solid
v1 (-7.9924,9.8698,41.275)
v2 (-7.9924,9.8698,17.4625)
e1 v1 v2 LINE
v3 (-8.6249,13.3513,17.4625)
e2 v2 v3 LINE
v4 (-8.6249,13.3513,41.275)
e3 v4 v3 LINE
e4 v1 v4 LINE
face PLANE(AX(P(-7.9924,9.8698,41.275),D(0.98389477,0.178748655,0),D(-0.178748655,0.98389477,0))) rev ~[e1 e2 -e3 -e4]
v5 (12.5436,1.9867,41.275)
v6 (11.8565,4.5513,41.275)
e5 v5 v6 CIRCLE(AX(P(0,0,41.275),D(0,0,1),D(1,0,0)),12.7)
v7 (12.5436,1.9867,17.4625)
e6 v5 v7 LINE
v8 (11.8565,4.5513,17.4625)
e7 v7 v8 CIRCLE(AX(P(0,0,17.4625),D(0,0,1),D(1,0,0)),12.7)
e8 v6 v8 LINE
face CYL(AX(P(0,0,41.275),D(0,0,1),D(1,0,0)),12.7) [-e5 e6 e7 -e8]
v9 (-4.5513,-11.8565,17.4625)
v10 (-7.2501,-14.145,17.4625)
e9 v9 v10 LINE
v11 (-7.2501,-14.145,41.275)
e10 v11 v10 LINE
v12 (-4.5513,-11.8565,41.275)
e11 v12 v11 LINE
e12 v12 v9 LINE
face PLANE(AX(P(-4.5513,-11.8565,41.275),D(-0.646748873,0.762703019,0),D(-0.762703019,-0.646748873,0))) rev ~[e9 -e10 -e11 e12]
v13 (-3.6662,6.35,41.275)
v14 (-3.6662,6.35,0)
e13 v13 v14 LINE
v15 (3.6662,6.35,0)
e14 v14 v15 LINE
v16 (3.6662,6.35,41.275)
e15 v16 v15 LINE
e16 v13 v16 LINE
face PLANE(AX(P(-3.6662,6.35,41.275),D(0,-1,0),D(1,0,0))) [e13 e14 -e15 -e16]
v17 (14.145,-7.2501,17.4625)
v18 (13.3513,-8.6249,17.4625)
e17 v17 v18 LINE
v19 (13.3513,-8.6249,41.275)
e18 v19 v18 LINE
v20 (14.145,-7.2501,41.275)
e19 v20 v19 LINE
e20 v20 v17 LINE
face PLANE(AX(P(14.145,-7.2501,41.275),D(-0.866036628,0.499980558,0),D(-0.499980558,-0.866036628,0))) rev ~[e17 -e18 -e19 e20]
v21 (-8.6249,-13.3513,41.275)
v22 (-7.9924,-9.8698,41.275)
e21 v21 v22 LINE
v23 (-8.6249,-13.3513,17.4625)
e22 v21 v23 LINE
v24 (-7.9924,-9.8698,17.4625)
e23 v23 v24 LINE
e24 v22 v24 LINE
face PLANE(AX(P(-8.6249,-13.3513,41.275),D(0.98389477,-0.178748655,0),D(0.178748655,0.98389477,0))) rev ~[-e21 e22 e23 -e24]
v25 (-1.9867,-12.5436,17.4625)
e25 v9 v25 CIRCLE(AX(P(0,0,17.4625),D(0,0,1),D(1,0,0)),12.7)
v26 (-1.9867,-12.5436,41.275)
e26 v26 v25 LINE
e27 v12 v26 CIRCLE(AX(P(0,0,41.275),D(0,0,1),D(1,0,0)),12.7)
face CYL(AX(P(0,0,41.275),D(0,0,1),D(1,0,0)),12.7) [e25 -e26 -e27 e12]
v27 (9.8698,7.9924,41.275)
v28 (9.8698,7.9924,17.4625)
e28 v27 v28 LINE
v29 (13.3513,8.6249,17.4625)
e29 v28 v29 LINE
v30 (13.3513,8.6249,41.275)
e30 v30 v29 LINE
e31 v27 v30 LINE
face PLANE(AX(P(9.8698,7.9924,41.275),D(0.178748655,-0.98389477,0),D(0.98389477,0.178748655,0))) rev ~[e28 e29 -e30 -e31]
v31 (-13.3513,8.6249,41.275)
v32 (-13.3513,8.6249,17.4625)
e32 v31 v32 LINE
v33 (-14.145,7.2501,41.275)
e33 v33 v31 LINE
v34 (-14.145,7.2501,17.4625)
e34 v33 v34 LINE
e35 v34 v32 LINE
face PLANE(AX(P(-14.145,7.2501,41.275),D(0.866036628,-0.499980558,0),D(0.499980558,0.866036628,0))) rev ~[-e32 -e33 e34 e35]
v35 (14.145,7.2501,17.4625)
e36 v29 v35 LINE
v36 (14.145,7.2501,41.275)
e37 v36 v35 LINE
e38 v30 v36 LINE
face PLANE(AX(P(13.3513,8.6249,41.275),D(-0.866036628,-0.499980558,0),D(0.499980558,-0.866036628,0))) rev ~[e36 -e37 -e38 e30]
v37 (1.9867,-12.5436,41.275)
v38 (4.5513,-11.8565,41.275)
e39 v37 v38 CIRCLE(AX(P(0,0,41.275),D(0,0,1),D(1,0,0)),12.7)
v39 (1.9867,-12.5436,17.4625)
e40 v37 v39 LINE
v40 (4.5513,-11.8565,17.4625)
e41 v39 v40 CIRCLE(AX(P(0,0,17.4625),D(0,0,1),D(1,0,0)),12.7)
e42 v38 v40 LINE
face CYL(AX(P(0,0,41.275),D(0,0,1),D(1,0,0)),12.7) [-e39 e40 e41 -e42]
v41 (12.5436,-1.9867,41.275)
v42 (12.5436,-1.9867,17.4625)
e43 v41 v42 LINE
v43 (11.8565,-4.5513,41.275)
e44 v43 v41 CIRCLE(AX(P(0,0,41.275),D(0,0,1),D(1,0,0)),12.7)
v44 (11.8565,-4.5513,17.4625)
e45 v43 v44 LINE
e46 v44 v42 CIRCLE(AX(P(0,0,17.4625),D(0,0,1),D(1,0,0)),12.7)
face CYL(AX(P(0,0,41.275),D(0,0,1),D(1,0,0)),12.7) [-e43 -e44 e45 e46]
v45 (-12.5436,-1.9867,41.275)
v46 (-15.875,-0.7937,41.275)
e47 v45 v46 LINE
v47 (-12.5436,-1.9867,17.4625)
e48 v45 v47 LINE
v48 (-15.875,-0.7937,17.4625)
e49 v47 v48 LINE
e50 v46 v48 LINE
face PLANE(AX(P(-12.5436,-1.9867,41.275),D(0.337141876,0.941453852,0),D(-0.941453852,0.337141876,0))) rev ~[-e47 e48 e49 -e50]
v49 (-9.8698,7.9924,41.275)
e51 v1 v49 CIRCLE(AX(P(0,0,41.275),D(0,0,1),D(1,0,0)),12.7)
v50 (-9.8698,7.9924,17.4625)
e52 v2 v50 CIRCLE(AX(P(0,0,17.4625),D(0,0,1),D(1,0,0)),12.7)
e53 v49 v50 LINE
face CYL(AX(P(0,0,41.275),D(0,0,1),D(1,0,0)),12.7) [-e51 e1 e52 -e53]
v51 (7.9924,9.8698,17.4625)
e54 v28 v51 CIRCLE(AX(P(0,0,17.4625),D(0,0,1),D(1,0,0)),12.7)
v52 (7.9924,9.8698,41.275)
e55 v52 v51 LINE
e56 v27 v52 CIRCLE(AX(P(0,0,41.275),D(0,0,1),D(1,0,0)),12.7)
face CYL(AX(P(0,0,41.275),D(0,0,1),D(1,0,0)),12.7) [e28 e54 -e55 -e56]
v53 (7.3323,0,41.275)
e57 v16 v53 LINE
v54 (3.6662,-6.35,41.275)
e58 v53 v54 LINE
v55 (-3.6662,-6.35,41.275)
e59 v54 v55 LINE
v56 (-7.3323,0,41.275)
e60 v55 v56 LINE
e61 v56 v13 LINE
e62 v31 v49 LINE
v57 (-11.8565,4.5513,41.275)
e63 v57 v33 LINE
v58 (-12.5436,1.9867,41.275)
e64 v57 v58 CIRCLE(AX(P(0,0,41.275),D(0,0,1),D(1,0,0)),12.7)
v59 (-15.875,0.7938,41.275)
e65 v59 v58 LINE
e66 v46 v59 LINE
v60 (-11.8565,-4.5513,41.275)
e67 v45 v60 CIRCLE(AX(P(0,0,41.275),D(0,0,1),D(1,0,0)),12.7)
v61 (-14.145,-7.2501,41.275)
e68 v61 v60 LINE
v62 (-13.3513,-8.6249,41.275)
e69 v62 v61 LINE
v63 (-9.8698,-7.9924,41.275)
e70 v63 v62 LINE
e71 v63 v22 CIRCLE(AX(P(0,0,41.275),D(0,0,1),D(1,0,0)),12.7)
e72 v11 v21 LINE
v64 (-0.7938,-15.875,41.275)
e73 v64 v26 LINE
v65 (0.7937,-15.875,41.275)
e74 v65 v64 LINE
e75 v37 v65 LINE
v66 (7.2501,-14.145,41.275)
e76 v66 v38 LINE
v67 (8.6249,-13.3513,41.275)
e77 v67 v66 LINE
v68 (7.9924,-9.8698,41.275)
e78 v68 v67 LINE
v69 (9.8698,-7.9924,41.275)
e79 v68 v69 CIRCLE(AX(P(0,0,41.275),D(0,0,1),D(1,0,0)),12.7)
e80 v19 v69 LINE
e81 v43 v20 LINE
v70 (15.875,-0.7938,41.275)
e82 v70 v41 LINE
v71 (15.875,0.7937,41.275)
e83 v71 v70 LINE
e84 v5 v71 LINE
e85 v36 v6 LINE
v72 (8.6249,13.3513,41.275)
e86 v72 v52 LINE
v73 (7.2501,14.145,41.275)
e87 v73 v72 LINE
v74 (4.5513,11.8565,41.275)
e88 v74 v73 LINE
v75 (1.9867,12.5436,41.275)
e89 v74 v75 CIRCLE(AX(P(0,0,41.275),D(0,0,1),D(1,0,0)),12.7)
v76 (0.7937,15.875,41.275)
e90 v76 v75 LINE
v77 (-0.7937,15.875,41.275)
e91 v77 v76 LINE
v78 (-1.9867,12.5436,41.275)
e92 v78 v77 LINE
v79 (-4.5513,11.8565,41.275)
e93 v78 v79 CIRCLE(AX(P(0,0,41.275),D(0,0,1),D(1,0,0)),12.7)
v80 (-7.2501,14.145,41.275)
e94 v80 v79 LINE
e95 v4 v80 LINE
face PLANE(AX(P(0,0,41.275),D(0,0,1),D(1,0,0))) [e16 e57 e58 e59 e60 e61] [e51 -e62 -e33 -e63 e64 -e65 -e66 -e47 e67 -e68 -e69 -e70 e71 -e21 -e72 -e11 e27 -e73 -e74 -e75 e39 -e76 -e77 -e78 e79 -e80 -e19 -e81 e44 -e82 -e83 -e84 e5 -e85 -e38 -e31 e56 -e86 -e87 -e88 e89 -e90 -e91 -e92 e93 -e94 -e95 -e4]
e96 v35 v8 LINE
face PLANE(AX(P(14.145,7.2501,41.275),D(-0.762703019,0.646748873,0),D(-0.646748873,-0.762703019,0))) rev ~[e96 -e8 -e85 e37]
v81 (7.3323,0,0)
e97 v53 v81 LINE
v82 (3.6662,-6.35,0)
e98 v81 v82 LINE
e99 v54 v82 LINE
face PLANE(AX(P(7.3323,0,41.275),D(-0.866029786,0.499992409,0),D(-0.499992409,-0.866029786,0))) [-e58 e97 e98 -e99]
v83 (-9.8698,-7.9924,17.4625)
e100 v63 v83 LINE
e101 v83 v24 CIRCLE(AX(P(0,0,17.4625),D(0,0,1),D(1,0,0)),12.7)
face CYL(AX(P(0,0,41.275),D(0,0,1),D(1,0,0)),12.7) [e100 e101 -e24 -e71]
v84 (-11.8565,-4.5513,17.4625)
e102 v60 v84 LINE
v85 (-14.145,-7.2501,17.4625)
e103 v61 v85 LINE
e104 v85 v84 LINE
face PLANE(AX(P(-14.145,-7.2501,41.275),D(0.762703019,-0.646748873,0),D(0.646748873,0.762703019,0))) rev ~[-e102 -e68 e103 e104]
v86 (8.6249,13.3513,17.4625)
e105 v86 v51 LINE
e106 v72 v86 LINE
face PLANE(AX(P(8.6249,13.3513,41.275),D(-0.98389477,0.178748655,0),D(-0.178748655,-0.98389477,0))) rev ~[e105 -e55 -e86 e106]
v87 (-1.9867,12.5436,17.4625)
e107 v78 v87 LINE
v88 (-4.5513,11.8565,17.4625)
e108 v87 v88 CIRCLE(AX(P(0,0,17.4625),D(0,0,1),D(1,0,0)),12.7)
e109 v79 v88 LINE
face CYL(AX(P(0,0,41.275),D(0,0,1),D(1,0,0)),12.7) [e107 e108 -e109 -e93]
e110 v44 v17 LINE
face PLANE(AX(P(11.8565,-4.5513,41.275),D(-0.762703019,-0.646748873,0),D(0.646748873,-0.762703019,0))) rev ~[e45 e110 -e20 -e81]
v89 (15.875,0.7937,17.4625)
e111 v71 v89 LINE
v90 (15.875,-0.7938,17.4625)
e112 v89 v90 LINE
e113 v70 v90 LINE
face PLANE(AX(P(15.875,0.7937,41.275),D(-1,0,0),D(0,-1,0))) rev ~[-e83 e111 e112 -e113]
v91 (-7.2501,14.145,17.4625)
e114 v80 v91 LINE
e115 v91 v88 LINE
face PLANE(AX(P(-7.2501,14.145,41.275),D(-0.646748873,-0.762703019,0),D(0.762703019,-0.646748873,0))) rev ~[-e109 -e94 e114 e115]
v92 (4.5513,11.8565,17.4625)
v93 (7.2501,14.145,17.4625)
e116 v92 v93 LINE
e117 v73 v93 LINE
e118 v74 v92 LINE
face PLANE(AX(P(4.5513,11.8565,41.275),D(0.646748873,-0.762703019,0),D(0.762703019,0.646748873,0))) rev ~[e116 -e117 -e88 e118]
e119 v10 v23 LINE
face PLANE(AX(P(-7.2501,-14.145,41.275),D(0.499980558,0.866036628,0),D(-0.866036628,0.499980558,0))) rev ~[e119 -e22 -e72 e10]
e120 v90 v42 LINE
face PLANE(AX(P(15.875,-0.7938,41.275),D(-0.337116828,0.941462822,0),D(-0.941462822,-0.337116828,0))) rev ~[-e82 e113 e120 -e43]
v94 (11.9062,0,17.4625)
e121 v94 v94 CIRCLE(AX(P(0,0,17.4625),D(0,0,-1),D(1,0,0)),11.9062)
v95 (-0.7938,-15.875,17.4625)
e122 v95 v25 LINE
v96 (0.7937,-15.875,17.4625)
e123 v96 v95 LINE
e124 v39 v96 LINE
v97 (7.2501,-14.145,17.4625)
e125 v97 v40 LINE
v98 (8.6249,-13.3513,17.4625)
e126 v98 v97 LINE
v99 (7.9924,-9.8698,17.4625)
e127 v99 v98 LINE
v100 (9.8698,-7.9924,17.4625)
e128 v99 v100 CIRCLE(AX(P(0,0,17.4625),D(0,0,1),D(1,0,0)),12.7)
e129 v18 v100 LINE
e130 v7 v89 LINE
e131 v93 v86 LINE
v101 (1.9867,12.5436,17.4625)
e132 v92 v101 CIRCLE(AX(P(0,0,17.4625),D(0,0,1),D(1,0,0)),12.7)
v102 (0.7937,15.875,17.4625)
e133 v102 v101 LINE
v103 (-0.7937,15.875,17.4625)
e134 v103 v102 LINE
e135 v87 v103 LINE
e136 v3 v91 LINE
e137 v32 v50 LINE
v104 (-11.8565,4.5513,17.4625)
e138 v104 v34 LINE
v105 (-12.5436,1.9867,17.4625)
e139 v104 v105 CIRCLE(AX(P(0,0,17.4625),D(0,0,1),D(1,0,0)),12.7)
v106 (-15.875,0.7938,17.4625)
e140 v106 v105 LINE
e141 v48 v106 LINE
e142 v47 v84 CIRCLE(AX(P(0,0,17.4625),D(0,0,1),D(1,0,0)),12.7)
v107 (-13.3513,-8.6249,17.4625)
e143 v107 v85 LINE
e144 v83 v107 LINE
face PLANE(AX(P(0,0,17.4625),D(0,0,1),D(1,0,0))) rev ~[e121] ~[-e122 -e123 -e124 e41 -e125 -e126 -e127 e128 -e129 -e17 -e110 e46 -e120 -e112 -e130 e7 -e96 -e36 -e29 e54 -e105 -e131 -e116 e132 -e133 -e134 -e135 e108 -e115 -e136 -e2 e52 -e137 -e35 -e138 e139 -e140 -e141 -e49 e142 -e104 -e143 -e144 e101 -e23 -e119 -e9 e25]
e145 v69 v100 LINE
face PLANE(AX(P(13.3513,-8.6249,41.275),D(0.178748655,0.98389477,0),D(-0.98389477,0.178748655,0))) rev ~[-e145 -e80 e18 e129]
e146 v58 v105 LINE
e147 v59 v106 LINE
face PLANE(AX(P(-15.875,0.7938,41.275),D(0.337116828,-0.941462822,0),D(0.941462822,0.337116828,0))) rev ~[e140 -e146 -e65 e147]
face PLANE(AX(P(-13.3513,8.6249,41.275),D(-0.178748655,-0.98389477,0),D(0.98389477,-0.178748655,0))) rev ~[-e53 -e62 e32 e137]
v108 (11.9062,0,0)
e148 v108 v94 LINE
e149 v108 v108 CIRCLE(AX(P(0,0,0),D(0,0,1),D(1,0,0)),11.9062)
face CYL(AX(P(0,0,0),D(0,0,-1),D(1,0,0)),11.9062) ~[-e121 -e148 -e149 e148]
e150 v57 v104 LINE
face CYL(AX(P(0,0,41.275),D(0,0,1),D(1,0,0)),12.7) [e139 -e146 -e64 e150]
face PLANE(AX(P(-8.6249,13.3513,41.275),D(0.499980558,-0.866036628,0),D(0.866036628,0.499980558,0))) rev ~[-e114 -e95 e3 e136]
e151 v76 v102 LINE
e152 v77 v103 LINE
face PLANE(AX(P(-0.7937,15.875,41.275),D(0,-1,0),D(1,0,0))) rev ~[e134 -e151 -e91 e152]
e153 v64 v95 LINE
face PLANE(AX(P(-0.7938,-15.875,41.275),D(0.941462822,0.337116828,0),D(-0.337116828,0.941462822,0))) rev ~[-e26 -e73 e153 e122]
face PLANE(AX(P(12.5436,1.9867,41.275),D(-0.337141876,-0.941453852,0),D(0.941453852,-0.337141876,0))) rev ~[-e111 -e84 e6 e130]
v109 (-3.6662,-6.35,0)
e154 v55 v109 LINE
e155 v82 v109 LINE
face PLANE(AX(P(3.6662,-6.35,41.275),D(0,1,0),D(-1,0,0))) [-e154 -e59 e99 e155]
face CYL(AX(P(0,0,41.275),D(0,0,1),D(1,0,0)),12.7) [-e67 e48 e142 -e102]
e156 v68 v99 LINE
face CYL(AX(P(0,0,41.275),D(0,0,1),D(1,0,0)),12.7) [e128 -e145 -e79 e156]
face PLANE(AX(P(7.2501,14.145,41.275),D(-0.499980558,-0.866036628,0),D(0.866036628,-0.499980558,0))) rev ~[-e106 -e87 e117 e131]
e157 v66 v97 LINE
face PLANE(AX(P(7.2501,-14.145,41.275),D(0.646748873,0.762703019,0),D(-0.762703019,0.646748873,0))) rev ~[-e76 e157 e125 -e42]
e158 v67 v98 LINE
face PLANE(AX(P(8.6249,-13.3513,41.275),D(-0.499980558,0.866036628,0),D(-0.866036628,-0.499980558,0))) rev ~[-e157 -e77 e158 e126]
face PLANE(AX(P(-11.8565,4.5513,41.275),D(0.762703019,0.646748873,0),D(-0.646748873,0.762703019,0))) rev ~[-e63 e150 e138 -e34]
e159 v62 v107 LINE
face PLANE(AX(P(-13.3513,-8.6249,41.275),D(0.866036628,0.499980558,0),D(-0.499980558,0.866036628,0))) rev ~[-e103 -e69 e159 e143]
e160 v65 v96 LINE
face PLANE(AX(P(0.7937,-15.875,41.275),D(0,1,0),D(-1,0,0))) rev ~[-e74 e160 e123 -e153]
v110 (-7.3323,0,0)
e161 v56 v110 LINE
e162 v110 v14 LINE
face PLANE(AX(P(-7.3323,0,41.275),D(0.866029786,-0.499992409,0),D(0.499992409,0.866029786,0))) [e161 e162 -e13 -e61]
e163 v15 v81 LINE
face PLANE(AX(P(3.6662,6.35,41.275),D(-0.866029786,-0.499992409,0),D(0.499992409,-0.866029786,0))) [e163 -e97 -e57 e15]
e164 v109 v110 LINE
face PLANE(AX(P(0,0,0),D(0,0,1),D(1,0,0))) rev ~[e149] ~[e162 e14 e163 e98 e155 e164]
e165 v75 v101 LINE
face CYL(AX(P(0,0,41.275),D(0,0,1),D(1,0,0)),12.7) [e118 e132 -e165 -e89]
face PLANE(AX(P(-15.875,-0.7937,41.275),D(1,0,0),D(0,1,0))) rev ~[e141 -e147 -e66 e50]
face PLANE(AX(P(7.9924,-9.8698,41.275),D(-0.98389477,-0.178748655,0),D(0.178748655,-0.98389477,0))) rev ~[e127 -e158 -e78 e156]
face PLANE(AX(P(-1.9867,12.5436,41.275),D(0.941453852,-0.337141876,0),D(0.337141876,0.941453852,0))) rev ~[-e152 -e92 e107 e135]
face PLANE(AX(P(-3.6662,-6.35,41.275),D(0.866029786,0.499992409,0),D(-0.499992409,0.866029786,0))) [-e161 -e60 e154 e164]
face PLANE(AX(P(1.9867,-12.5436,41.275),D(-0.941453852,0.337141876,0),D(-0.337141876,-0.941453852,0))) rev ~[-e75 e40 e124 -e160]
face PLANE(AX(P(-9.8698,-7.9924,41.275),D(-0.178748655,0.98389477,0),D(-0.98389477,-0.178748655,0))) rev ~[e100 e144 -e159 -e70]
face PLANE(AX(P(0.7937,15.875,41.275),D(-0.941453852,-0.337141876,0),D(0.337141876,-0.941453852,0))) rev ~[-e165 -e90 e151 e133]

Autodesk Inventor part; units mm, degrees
ref_plane "YZ Plane" through (0, 0, 0) normal (1, 0, 0) x (0, 1, 0)
ref_plane "XZ Plane" through (0, 0, 0) normal (0, 1, 0) x (-1, 0, 0)
ref_plane "XY Plane" through (0, 0, 0) normal (0, 0, 1) x (1, 0, 0)
sketch "Sketch1" plane through (0, 0, 0) normal (0, 0, 1) x (1, 0, 0)
  circle A0 centre (0, 0) radius 11.9062
  dimension "d0" = 23.8125
extrude "Extrusion1" add sketch "Sketch1" along normal blind 41.275
sketch "Sketch2" plane through (0, 0, 41.275) normal (0, 0, 1) x (1, 0, 0)
  circle A0 centre (0, 0) radius 12.7
  dimension "d3" = 25.4
extrude "Extrusion2" add sketch "Sketch2" against normal blind 23.8125
sketch "Sketch3" plane through (0, 0, 41.275) normal (0, 0, 1) x (1, 0, 0)
  line L0 (-3.6662, 6.35) -> (3.6662, 6.35)
  line L1 (3.6662, 6.35) -> (7.3323, 0)
  line L2 (7.3323, 0) -> (3.6662, -6.35)
  line L3 (3.6662, -6.35) -> (-3.6662, -6.35)
  line L4 (-3.6662, -6.35) -> (-7.3323, 0)
  line L5 (-7.3323, 0) -> (-3.6662, 6.35)
  point P0 (0, 0)
  dimension "d6" = 12.7
  dimension "d7" = 12.7
  dimension "d8" = 12.7
  dimension "d9" = 120
  dimension "d10" = 120
  dimension "d11" = 6.35
  dimension "d12" = 6.35
  dimension "d13" = 6.35
extrude "Extrusion3" cut sketch "Sketch3" against normal blind 50.8
sketch "Sketch4" plane through (0, 0, 41.275) normal (0, 0, 1) x (1, 0, 0)
  line L0 (-7.3323, 0) -> (-3.6662, 6.35) projected
  line L1 (-3.6662, 6.35) -> (3.6662, 6.35) projected
  line L2 (3.6662, 6.35) -> (7.3323, 0) projected
  line L3 (7.3323, 0) -> (3.6662, -6.35) projected
  line L4 (3.6662, -6.35) -> (-3.6662, -6.35) projected
  line L5 (-3.6662, -6.35) -> (-7.3323, 0) projected
  circle A0 centre (0, 0) radius 12.7 projected
  line L6 (0, 12.7) -> (0, 15.875) construction
  line L7 (0, 12.7) -> (3.175, 12.7) construction
  line L8 (0, 0) -> (1.9867, 12.5436) construction
  circle A1 centre (0, 0) radius 12.7 construction
  line L9 (0, 0) -> (12.7, 0) construction
  line L10 (0, 0) -> (-1.9867, 12.5436) construction
  line L11 (0, 0) -> (12.7, 0) construction
  line L12 (0, 15.875) -> (0.7937, 15.875) construction
  line L13 (0, 15.875) -> (0.7937, 15.875) construction
  line L14 (0, 15.875) -> (-0.7937, 15.875) construction
  line L15 (0, 15.875) -> (0.7937, 15.875) construction
  line L16 (-1.9867, 12.5436) -> (-0.7937, 15.875)
  line L17 (-0.7937, 15.875) -> (0.7937, 15.875)
  line L18 (0.7937, 15.875) -> (1.9867, 12.5436)
  line L19 (-1.9867, 12.5436) -> (1.9867, 12.5436)
  line L20 (-6.35, 10.9985) -> (-7.9375, 13.7482) construction
  line L21 (-6.35, 10.9985) -> (-3.6004, 12.586) construction
  line L22 (0, 0) -> (-4.5513, 11.8565) construction
  line L23 (0, 0) -> (-7.9924, 9.8698) construction
  line L24 (-7.9375, 13.7482) -> (-7.2501, 14.145) construction
  line L25 (-7.9375, 13.7482) -> (-7.2501, 14.145) construction
  line L26 (-7.9375, 13.7482) -> (-8.6249, 13.3513) construction
  line L27 (-7.9375, 13.7482) -> (-7.2501, 14.145) construction
  line L28 (-7.9924, 9.8698) -> (-8.6249, 13.3513)
  line L29 (-8.6249, 13.3513) -> (-7.2501, 14.145)
  line L30 (-7.2501, 14.145) -> (-4.5513, 11.8565)
  line L31 (-7.9924, 9.8698) -> (-4.5513, 11.8565)
  line L32 (-10.9985, 6.35) -> (-13.7482, 7.9375) construction
  line L33 (-10.9985, 6.35) -> (-9.411, 9.0996) construction
  line L34 (0, 0) -> (-9.8698, 7.9924) construction
  line L35 (0, 0) -> (-11.8565, 4.5513) construction
  line L36 (-13.7482, 7.9375) -> (-13.3513, 8.6249) construction
  line L37 (-13.7482, 7.9375) -> (-13.3513, 8.6249) construction
  line L38 (-13.7482, 7.9375) -> (-14.145, 7.2501) construction
  line L39 (-13.7482, 7.9375) -> (-13.3513, 8.6249) construction
  line L40 (-11.8565, 4.5513) -> (-14.145, 7.2501)
  line L41 (-14.145, 7.2501) -> (-13.3513, 8.6249)
  line L42 (-13.3513, 8.6249) -> (-9.8698, 7.9924)
  line L43 (-11.8565, 4.5513) -> (-9.8698, 7.9924)
  line L44 (-12.7, 0) -> (-15.875, 0) construction
  line L45 (-12.7, 0) -> (-12.7, 3.175) construction
  line L46 (0, 0) -> (-12.5436, 1.9867) construction
  line L47 (0, 0) -> (-12.5436, -1.9867) construction
  line L48 (-15.875, 0) -> (-15.875, 0.7938) construction
  line L49 (-15.875, 0) -> (-15.875, 0.7938) construction
  line L50 (-15.875, 0) -> (-15.875, -0.7937) construction
  line L51 (-15.875, 0) -> (-15.875, 0.7938) construction
  line L52 (-12.5436, -1.9867) -> (-15.875, -0.7937)
  line L53 (-15.875, -0.7937) -> (-15.875, 0.7938)
  line L54 (-15.875, 0.7938) -> (-12.5436, 1.9867)
  line L55 (-12.5436, -1.9867) -> (-12.5436, 1.9867)
  line L56 (-10.9985, -6.35) -> (-13.7482, -7.9375) construction
  line L57 (-10.9985, -6.35) -> (-12.586, -3.6004) construction
  line L58 (0, 0) -> (-11.8565, -4.5513) construction
  line L59 (0, 0) -> (-9.8698, -7.9924) construction
  line L60 (-13.7482, -7.9375) -> (-14.145, -7.2501) construction
  line L61 (-13.7482, -7.9375) -> (-14.145, -7.2501) construction
  line L62 (-13.7482, -7.9375) -> (-13.3513, -8.6249) construction
  line L63 (-13.7482, -7.9375) -> (-14.145, -7.2501) construction
  line L64 (-9.8698, -7.9924) -> (-13.3513, -8.6249)
  line L65 (-13.3513, -8.6249) -> (-14.145, -7.2501)
  line L66 (-14.145, -7.2501) -> (-11.8565, -4.5513)
  line L67 (-9.8698, -7.9924) -> (-11.8565, -4.5513)
  line L68 (-6.35, -10.9985) -> (-7.9375, -13.7482) construction
  line L69 (-6.35, -10.9985) -> (-9.0996, -9.411) construction
  line L70 (0, 0) -> (-7.9924, -9.8698) construction
  line L71 (0, 0) -> (-4.5513, -11.8565) construction
  line L72 (-7.9375, -13.7482) -> (-8.6249, -13.3513) construction
  line L73 (-7.9375, -13.7482) -> (-8.6249, -13.3513) construction
  line L74 (-7.9375, -13.7482) -> (-7.2501, -14.145) construction
  line L75 (-7.9375, -13.7482) -> (-8.6249, -13.3513) construction
  line L76 (-4.5513, -11.8565) -> (-7.2501, -14.145)
  line L77 (-7.2501, -14.145) -> (-8.6249, -13.3513)
  line L78 (-8.6249, -13.3513) -> (-7.9924, -9.8698)
  line L79 (-4.5513, -11.8565) -> (-7.9924, -9.8698)
  line L80 (0, -12.7) -> (0, -15.875) construction
  line L81 (0, -12.7) -> (-3.175, -12.7) construction
  line L82 (0, 0) -> (-1.9867, -12.5436) construction
  line L83 (0, 0) -> (1.9867, -12.5436) construction
  line L84 (0, -15.875) -> (-0.7938, -15.875) construction
  line L85 (0, -15.875) -> (-0.7938, -15.875) construction
  line L86 (0, -15.875) -> (0.7937, -15.875) construction
  line L87 (0, -15.875) -> (-0.7938, -15.875) construction
  line L88 (1.9867, -12.5436) -> (0.7937, -15.875)
  line L89 (0.7937, -15.875) -> (-0.7938, -15.875)
  line L90 (-0.7938, -15.875) -> (-1.9867, -12.5436)
  line L91 (1.9867, -12.5436) -> (-1.9867, -12.5436)
  line L92 (6.35, -10.9985) -> (7.9375, -13.7482) construction
  line L93 (6.35, -10.9985) -> (3.6004, -12.586) construction
  line L94 (0, 0) -> (4.5513, -11.8565) construction
  line L95 (0, 0) -> (7.9924, -9.8698) construction
  line L96 (7.9375, -13.7482) -> (7.2501, -14.145) construction
  line L97 (7.9375, -13.7482) -> (7.2501, -14.145) construction
  line L98 (7.9375, -13.7482) -> (8.6249, -13.3513) construction
  line L99 (7.9375, -13.7482) -> (7.2501, -14.145) construction
  line L100 (7.9924, -9.8698) -> (8.6249, -13.3513)
  line L101 (8.6249, -13.3513) -> (7.2501, -14.145)
  line L102 (7.2501, -14.145) -> (4.5513, -11.8565)
  line L103 (7.9924, -9.8698) -> (4.5513, -11.8565)
  line L104 (10.9985, -6.35) -> (13.7482, -7.9375) construction
  line L105 (10.9985, -6.35) -> (9.411, -9.0996) construction
  line L106 (0, 0) -> (9.8698, -7.9924) construction
  line L107 (0, 0) -> (11.8565, -4.5513) construction
  line L108 (13.7482, -7.9375) -> (13.3513, -8.6249) construction
  line L109 (13.7482, -7.9375) -> (13.3513, -8.6249) construction
  line L110 (13.7482, -7.9375) -> (14.145, -7.2501) construction
  line L111 (13.7482, -7.9375) -> (13.3513, -8.6249) construction
  line L112 (11.8565, -4.5513) -> (14.145, -7.2501)
  line L113 (14.145, -7.2501) -> (13.3513, -8.6249)
  line L114 (13.3513, -8.6249) -> (9.8698, -7.9924)
  line L115 (11.8565, -4.5513) -> (9.8698, -7.9924)
  line L116 (12.7, 0) -> (15.875, 0) construction
  line L117 (12.7, 0) -> (12.7, -3.175) construction
  line L118 (0, 0) -> (12.5436, -1.9867) construction
  line L119 (0, 0) -> (12.5436, 1.9867) construction
  line L120 (15.875, 0) -> (15.875, -0.7938) construction
  line L121 (15.875, 0) -> (15.875, -0.7938) construction
  line L122 (15.875, 0) -> (15.875, 0.7937) construction
  line L123 (15.875, 0) -> (15.875, -0.7938) construction
  line L124 (12.5436, 1.9867) -> (15.875, 0.7937)
  line L125 (15.875, 0.7937) -> (15.875, -0.7938)
  line L126 (15.875, -0.7938) -> (12.5436, -1.9867)
  line L127 (12.5436, 1.9867) -> (12.5436, -1.9867)
  line L128 (10.9985, 6.35) -> (13.7482, 7.9375) construction
  line L129 (10.9985, 6.35) -> (12.586, 3.6004) construction
  line L130 (0, 0) -> (11.8565, 4.5513) construction
  line L131 (0, 0) -> (9.8698, 7.9924) construction
  line L132 (13.7482, 7.9375) -> (14.145, 7.2501) construction
  line L133 (13.7482, 7.9375) -> (14.145, 7.2501) construction
  line L134 (13.7482, 7.9375) -> (13.3513, 8.6249) construction
  line L135 (13.7482, 7.9375) -> (14.145, 7.2501) construction
  line L136 (9.8698, 7.9924) -> (13.3513, 8.6249)
  line L137 (13.3513, 8.6249) -> (14.145, 7.2501)
  line L138 (14.145, 7.2501) -> (11.8565, 4.5513)
  line L139 (9.8698, 7.9924) -> (11.8565, 4.5513)
  line L140 (6.35, 10.9985) -> (7.9375, 13.7482) construction
  line L141 (6.35, 10.9985) -> (9.0996, 9.411) construction
  line L142 (0, 0) -> (7.9924, 9.8698) construction
  line L143 (0, 0) -> (4.5513, 11.8565) construction
  line L144 (7.9375, 13.7482) -> (8.6249, 13.3513) construction
  line L145 (7.9375, 13.7482) -> (8.6249, 13.3513) construction
  line L146 (7.9375, 13.7482) -> (7.2501, 14.145) construction
  line L147 (7.9375, 13.7482) -> (8.6249, 13.3513) construction
  line L148 (4.5513, 11.8565) -> (7.2501, 14.145)
  line L149 (7.2501, 14.145) -> (8.6249, 13.3513)
  line L150 (8.6249, 13.3513) -> (7.9924, 9.8698)
  line L151 (4.5513, 11.8565) -> (7.9924, 9.8698)
  dimension "d16" = 12.7
  dimension "d17" = 0
  dimension "d18" = 3.175
  dimension "d19" = 90
  dimension "d20" = 81
  dimension "d21" = 99
  dimension "d22" = 0.7937
  dimension "d23" = 0
  dimension "d24" = 0.7937
  dimension "d25" = 180
  dimension "d28" = 360
extrude "Extrusion4" add sketch "Sketch4" against normal blind 23.8125 contours A0 L127 | A0 L124 L125 L126 | L139 A0 | A0 L136 L137 L138 | L112 L113 L114 A0 | A0 L115 | L151 A0 | A0 L148 L149 L150 | L100 L101 L102 A0 | A0 L103 | L19 A0 | A0 L16 L17 L18 | L88 L89 L90 A0 | A0 L91 | L31 A0 | A0 L28 L29 L30 | L76 L77 L78 A0 | A0 L79 | L43 A0 | A0 L40 L41 L42 | L64 L65 L66 A0 | A0 L67 | L55 A0 | A0 L52 L53 L54
properties part number "pinion"
